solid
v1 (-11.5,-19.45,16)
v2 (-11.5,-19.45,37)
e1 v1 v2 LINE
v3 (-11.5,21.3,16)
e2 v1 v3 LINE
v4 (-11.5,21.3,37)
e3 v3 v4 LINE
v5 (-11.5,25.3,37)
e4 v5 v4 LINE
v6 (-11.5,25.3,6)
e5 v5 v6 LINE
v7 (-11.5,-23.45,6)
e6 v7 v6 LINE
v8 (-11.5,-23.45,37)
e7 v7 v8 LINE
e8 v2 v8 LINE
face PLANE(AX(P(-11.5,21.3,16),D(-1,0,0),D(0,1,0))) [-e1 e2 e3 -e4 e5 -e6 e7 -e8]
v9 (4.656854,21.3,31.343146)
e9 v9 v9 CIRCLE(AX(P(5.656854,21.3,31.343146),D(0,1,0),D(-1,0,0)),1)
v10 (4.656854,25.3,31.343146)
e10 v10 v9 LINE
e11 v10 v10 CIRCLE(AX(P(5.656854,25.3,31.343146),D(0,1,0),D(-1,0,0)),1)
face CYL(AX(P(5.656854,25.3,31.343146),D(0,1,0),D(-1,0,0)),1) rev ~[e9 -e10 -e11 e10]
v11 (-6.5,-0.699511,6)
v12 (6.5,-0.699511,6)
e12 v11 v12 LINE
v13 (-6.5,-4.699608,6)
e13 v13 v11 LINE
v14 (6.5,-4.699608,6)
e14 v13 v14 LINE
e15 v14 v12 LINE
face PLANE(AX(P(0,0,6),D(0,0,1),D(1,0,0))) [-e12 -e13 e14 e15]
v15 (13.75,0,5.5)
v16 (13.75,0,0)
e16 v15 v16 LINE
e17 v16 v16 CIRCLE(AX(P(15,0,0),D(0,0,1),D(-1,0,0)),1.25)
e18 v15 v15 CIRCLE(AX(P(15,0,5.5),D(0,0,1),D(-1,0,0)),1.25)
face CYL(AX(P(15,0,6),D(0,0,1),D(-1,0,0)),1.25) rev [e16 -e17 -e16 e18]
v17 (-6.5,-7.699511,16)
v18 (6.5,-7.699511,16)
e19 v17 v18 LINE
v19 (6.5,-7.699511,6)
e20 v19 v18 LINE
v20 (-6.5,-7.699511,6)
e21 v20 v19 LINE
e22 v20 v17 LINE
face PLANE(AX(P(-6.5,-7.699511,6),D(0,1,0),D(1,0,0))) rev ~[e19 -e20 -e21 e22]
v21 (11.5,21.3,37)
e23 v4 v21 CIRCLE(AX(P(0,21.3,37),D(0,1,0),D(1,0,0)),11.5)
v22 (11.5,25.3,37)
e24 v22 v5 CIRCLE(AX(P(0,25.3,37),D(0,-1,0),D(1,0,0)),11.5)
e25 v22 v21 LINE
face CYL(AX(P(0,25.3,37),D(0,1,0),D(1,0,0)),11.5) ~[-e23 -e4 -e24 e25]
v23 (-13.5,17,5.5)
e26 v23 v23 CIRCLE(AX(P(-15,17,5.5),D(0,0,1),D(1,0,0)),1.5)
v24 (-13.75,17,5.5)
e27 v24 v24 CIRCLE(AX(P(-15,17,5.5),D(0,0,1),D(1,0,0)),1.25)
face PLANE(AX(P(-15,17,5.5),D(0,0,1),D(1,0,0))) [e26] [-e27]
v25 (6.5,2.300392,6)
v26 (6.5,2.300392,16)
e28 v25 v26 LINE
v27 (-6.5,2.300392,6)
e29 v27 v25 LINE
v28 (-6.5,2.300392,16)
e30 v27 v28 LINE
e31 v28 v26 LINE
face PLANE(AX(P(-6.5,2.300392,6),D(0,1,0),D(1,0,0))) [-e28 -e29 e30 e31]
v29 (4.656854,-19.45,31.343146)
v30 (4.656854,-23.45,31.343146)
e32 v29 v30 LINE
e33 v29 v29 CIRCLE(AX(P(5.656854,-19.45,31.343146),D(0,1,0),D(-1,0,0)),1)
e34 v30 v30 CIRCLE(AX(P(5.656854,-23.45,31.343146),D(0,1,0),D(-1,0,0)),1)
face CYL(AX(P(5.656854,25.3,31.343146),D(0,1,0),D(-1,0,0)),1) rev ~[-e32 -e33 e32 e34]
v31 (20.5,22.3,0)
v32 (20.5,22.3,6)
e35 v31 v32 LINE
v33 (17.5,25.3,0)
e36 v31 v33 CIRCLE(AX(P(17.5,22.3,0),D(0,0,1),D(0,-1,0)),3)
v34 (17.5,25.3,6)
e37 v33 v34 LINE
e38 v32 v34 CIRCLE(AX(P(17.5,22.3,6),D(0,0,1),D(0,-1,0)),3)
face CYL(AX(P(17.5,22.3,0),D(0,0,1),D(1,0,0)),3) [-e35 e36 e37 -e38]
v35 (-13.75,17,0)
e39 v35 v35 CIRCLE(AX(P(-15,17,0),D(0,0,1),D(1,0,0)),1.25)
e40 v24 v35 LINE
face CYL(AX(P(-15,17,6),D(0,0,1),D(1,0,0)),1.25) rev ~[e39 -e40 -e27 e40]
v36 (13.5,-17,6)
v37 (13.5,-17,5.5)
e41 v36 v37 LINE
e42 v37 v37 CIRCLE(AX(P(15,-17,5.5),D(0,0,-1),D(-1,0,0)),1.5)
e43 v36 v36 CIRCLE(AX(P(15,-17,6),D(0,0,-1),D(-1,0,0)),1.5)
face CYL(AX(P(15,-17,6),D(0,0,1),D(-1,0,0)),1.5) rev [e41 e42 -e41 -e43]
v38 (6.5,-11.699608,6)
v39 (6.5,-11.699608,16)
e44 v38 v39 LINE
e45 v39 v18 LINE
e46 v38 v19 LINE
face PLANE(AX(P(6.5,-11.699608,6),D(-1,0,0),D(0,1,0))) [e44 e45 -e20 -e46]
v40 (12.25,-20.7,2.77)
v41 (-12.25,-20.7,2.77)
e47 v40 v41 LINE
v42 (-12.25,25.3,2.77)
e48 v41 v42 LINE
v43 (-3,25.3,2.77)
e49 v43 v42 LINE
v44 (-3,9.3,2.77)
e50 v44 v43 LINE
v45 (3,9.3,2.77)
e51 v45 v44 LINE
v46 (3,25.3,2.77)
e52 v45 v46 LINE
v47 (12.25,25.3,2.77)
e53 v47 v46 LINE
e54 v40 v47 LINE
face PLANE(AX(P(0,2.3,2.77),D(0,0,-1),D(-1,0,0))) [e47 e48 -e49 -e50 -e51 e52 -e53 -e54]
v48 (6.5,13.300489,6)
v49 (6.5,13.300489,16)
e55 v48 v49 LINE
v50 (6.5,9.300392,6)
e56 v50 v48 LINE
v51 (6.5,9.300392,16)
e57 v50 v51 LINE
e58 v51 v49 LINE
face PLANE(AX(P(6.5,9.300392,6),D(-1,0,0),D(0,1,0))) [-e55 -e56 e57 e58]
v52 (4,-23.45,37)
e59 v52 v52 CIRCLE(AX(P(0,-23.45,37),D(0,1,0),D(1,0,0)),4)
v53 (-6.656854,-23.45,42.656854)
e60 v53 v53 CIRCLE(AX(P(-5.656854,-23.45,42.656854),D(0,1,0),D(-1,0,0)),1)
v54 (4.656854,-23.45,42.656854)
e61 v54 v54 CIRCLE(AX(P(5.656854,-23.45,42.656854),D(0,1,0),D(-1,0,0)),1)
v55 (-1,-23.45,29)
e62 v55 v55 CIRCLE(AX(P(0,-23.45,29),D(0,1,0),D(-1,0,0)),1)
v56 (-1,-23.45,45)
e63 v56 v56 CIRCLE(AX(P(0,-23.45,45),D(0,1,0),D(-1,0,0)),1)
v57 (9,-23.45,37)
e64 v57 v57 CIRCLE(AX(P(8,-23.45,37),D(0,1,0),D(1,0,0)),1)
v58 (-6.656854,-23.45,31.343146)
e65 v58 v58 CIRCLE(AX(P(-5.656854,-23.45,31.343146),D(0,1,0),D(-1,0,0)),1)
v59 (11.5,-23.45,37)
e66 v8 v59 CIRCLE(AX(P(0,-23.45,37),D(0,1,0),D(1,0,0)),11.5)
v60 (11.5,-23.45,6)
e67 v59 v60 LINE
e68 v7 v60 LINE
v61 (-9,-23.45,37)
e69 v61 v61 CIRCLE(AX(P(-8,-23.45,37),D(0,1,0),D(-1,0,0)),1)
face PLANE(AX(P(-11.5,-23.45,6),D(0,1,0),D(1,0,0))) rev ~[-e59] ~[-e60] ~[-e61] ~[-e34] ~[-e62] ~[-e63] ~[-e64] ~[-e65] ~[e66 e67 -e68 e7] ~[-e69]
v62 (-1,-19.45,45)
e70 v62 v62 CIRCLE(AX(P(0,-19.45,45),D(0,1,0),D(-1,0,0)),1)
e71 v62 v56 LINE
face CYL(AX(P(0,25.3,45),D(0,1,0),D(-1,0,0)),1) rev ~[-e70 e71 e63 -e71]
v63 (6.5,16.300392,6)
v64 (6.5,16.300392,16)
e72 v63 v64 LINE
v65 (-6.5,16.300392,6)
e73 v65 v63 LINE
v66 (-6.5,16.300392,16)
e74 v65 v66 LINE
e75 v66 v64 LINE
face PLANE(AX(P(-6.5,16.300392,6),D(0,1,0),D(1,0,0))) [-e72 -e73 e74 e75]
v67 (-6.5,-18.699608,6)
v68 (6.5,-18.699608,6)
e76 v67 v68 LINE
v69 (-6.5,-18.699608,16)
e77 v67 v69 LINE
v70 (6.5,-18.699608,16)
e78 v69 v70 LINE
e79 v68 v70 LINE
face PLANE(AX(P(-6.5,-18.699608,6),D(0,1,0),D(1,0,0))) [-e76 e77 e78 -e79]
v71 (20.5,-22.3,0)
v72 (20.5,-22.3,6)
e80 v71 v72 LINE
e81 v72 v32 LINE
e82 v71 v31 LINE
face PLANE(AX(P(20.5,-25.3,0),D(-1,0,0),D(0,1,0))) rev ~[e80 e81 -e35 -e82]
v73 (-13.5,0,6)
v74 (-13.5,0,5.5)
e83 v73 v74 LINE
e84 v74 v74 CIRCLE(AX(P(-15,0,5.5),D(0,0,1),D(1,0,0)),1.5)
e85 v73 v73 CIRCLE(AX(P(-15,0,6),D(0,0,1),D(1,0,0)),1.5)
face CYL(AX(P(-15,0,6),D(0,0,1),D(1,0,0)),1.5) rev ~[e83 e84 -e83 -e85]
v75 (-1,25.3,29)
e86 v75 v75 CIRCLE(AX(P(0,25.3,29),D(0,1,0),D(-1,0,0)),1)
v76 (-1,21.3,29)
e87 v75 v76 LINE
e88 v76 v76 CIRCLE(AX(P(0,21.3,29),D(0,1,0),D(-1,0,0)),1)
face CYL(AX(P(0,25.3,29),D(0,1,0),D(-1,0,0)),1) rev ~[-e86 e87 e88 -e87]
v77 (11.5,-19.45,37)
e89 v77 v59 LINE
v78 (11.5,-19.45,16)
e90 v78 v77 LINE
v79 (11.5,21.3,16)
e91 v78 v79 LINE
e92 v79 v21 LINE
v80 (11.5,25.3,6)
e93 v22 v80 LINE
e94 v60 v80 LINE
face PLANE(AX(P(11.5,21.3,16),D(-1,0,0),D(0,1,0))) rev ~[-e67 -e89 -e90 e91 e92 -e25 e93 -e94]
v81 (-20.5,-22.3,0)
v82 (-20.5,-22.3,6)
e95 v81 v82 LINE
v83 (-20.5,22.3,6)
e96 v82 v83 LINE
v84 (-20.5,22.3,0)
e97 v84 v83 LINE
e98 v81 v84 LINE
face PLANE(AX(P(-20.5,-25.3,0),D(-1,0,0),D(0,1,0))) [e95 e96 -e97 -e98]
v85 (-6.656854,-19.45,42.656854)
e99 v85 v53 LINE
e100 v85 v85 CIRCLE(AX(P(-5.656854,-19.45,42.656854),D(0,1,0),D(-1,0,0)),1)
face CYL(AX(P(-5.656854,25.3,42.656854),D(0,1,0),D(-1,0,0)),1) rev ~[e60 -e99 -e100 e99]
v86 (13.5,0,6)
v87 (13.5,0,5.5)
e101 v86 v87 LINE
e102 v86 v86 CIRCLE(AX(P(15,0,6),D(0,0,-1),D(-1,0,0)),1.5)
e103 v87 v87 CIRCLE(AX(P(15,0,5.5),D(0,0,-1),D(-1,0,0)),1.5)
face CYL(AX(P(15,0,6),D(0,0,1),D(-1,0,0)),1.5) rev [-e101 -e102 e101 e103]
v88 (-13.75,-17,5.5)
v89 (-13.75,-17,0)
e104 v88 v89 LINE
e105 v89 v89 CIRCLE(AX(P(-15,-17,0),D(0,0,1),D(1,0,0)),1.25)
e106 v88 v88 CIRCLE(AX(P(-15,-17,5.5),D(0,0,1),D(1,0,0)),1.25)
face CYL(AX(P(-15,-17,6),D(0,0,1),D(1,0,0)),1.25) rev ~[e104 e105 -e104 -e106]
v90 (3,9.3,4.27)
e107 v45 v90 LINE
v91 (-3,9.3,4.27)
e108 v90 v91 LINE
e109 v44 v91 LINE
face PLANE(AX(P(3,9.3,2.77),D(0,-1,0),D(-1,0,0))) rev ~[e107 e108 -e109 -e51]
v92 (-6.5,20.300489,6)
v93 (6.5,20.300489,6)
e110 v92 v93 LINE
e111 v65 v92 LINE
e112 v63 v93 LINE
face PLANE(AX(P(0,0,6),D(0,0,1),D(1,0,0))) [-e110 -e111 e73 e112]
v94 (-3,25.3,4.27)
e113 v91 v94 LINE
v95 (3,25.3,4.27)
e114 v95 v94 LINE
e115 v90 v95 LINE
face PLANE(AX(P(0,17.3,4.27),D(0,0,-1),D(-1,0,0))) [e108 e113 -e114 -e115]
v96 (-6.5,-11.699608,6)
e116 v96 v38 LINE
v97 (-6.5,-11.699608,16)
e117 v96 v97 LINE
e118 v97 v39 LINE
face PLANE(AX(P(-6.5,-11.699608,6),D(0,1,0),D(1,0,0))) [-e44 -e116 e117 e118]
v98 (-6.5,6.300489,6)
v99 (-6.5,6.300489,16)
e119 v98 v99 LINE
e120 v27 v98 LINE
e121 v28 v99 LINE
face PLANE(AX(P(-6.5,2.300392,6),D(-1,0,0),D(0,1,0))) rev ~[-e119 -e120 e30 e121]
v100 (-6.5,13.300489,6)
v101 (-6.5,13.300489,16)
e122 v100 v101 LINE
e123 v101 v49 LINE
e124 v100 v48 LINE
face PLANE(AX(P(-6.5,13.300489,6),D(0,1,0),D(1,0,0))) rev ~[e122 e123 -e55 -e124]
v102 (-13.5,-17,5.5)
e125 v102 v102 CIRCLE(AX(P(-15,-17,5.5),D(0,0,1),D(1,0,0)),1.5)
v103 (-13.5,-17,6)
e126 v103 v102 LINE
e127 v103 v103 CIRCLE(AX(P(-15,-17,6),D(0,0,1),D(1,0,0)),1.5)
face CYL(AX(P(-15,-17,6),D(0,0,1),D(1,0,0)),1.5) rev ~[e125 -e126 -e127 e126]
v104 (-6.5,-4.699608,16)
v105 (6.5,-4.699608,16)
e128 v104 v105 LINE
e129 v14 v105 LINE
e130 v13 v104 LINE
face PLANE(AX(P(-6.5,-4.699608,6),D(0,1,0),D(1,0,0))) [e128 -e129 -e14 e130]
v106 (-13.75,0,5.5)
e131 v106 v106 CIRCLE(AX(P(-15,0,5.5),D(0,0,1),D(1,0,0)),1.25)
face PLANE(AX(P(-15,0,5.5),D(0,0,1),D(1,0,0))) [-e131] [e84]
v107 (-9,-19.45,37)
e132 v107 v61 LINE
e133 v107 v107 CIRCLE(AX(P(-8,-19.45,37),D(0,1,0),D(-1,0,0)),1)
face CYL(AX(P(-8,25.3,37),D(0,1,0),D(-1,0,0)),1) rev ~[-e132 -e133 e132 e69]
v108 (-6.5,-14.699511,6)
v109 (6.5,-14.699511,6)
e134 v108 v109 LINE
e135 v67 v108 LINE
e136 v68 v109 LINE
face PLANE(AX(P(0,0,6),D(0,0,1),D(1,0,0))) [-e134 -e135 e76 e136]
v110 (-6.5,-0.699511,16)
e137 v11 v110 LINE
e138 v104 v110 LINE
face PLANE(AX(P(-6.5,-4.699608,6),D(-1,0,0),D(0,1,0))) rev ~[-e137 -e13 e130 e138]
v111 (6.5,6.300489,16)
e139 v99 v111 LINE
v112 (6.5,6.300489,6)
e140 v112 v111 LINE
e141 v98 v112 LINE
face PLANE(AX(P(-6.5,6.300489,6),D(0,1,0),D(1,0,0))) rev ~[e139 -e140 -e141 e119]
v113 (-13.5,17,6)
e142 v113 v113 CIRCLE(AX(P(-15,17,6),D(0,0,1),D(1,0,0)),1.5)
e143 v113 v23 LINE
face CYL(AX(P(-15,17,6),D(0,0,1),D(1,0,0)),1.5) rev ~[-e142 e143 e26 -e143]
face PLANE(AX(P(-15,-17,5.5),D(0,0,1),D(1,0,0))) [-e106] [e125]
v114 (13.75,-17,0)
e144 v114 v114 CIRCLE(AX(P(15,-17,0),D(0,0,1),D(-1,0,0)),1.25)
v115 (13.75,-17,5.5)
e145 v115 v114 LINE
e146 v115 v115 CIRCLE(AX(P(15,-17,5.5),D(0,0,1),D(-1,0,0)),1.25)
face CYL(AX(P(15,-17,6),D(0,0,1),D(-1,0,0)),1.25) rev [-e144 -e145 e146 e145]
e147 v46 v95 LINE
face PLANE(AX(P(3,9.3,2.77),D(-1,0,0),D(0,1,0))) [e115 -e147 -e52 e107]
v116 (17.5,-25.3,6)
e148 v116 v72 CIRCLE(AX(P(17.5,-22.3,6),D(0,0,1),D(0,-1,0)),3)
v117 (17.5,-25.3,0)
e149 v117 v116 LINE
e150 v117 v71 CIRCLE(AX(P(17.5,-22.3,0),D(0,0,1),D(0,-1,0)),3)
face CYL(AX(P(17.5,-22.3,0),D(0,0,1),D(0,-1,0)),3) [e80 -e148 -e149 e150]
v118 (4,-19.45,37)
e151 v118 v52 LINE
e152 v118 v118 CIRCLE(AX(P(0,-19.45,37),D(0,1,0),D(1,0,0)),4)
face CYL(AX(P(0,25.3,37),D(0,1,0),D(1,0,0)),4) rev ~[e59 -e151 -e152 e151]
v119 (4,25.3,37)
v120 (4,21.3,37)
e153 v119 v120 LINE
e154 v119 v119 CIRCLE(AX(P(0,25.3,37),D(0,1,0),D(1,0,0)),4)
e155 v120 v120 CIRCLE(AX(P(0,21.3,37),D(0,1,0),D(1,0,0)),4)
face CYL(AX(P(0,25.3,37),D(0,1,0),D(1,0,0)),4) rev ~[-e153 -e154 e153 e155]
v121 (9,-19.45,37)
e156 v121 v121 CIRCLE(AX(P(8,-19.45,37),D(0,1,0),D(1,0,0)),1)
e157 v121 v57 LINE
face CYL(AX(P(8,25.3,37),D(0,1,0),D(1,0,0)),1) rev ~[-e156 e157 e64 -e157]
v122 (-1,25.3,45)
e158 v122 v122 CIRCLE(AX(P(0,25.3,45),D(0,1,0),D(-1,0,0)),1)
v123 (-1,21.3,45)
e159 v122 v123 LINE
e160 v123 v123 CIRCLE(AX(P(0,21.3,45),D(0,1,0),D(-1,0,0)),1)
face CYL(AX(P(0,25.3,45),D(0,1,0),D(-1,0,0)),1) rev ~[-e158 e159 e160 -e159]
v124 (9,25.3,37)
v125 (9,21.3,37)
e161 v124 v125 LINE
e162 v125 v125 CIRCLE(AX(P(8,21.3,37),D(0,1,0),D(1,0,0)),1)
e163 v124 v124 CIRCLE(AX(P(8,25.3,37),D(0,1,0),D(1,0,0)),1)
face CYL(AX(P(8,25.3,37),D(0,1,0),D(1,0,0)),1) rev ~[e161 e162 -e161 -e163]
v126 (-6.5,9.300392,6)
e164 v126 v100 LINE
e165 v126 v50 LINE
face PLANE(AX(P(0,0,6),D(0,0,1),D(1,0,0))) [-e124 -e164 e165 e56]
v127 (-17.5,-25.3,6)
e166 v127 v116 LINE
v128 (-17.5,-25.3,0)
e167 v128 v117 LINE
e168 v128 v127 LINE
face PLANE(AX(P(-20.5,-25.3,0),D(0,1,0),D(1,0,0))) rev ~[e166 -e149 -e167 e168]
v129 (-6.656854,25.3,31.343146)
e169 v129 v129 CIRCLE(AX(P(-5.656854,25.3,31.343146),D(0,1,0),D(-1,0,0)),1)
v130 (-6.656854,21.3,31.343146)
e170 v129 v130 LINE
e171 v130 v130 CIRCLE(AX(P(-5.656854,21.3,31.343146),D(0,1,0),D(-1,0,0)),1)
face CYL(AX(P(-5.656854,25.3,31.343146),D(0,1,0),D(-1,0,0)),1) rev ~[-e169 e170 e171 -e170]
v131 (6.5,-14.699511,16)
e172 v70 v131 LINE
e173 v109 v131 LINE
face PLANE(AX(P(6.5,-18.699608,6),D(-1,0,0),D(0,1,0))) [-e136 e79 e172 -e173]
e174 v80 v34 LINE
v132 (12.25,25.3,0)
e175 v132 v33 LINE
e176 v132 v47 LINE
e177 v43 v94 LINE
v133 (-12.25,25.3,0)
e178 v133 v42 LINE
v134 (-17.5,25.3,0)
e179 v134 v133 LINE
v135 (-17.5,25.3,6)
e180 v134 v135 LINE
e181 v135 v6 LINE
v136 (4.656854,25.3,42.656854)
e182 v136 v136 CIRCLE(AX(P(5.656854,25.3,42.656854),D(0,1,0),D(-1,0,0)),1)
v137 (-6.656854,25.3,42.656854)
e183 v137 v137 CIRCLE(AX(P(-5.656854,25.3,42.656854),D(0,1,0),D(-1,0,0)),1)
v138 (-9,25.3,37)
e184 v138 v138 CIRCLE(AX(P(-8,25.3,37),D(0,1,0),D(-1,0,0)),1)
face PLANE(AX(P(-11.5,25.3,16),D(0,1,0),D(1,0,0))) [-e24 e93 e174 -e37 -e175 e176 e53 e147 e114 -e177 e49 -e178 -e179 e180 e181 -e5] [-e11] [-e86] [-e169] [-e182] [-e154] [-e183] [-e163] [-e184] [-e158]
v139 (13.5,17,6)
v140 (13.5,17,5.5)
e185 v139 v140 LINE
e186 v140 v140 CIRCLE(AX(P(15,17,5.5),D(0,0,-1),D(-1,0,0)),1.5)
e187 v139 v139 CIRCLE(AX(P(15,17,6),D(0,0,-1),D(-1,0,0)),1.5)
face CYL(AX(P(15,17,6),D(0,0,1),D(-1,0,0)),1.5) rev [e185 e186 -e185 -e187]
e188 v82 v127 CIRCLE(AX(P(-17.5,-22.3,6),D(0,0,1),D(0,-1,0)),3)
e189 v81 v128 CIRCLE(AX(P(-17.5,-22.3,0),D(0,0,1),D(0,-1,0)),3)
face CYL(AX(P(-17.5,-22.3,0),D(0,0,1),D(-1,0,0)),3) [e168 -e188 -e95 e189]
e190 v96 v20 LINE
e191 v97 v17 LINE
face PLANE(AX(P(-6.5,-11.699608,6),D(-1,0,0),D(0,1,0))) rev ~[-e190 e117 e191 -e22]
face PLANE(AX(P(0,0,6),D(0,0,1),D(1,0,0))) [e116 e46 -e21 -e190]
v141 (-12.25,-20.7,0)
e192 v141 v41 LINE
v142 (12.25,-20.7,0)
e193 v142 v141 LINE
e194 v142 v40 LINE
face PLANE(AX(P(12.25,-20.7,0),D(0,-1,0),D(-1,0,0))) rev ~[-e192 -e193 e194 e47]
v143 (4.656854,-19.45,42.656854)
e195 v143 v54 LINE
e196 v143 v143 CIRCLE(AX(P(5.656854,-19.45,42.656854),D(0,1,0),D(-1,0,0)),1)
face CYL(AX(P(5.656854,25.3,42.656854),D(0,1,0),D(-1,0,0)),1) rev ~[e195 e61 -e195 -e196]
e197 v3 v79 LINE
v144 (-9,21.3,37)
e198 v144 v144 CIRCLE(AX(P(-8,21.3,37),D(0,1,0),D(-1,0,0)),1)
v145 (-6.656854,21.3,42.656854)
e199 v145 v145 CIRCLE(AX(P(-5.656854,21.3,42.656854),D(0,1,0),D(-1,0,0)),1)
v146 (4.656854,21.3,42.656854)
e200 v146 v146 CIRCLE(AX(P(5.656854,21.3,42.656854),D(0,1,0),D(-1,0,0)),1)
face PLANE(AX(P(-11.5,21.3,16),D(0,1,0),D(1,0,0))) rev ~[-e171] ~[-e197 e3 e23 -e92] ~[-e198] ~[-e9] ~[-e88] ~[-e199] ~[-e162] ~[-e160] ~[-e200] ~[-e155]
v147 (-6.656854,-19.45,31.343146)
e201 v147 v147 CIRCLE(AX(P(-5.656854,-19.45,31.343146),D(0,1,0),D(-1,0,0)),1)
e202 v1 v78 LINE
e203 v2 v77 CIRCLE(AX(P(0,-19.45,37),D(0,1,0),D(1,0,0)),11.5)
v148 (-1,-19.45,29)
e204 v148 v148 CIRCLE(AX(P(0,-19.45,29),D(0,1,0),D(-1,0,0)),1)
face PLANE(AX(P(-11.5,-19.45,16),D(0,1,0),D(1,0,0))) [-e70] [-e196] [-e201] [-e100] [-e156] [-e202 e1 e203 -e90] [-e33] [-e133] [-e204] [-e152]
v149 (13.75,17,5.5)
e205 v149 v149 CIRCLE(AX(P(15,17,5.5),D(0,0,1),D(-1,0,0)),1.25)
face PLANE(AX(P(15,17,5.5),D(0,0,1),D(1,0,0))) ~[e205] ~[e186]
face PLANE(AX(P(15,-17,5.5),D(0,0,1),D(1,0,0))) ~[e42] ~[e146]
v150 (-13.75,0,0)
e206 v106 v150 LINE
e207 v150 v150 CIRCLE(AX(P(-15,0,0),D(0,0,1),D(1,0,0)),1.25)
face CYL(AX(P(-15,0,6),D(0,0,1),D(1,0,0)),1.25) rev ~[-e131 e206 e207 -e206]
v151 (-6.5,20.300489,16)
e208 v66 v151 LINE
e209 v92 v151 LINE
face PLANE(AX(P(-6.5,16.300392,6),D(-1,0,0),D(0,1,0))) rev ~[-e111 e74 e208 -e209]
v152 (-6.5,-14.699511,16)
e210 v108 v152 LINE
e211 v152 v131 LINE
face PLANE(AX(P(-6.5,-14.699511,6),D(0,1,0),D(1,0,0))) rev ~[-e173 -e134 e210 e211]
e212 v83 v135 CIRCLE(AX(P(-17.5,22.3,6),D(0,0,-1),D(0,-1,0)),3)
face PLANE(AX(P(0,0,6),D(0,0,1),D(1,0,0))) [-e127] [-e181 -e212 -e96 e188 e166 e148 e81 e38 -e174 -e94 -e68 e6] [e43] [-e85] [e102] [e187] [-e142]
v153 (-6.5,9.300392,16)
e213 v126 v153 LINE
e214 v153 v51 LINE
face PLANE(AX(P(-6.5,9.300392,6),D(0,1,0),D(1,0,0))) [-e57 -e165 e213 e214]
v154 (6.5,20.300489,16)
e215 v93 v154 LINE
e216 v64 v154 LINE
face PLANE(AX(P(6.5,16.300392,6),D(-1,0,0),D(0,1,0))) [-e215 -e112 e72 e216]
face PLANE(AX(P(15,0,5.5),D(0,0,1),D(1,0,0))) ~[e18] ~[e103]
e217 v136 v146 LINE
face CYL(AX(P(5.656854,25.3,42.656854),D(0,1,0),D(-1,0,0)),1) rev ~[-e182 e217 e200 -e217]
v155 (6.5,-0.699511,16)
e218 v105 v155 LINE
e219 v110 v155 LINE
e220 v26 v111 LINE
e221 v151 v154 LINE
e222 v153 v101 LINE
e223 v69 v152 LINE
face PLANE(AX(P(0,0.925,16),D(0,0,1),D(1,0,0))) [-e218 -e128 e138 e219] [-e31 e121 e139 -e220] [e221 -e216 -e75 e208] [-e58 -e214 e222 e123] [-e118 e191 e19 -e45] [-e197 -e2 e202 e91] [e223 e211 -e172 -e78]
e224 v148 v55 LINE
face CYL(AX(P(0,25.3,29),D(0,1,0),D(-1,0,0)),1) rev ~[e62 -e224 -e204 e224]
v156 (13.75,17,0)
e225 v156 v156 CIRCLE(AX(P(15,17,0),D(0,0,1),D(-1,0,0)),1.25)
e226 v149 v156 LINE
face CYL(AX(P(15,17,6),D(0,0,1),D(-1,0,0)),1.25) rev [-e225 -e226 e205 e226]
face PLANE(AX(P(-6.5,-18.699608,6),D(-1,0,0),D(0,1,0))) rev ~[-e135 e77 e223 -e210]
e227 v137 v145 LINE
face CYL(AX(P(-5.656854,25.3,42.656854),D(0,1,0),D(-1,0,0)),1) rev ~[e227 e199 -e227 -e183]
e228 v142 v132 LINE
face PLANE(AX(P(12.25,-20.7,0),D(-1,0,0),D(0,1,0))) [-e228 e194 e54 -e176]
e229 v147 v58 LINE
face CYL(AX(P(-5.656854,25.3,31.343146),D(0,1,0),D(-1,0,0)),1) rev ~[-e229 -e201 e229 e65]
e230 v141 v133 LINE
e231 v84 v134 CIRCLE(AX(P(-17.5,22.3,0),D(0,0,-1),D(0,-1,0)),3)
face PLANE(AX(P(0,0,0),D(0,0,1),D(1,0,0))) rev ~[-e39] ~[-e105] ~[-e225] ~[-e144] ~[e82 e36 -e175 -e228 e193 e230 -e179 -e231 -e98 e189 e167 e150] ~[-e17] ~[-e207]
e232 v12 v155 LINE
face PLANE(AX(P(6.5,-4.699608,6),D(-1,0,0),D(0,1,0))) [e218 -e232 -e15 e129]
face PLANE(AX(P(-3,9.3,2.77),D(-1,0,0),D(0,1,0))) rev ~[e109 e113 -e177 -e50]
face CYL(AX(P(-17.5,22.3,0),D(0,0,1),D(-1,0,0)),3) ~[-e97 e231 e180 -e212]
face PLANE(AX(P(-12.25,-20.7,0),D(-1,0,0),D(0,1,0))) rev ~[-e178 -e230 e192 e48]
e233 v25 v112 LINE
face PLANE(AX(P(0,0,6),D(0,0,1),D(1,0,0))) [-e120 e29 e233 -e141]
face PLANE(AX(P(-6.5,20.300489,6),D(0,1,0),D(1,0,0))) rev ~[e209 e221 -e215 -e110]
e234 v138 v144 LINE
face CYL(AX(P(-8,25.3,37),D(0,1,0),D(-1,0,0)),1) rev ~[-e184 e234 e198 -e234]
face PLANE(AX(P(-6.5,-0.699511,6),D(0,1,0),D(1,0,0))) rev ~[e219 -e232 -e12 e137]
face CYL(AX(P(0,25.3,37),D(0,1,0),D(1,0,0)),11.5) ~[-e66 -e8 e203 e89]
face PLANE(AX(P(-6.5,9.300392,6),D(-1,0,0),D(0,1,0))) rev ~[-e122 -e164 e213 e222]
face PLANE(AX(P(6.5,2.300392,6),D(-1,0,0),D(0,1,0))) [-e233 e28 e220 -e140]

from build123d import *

# Parameters (mm, degrees)
SKETCH1_W           = 41
SKETCH1_H           = 50.6
BOSS_EXTRUDE1_DEPTH = 6
FILLET1_R           = 3
SKETCH3_R           = 1.25
CUT_EXTRUDE1_DEPTH  = 34.111025354
SKETCH4_R           = 1.5
CUT_EXTRUDE2_DEPTH  = 0.5
SKETCH5_W           = 24.5
SKETCH5_H           = 46
CUT_EXTRUDE3_DEPTH  = 2.77
SKETCH6_W           = 6
SKETCH6_H           = 16
CUT_EXTRUDE4_DEPTH  = 1.5
SKETCH7_W           = 23
SKETCH7_H           = 48.75
SKETCH7_W_2         = 13
SKETCH7_H_2         = 4.000096304
BOSS_EXTRUDE2_DEPTH = 10
SKETCH8_W           = 23
SKETCH8_H           = 4
BOSS_EXTRUDE3_DEPTH = 44
SKETCH9_R           = 1
CUT_EXTRUDE5_DEPTH  = 82.120959067


with BuildPart() as part:
    # Sketch1 → Boss-Extrude1 (new body)
    with BuildSketch(Plane.XY):
        Rectangle(SKETCH1_W, SKETCH1_H)
    extrude(amount=BOSS_EXTRUDE1_DEPTH)

    # Fillet1
    fillet1_edges = [part.edges().sort_by_distance(p)[0] for p in [
        (20.5, -25.3, 3),
        (-20.5, -25.3, 3),
        (-20.5, 25.3, 3),
        (20.5, 25.3, 3),
    ]]
    fillet(fillet1_edges, radius=FILLET1_R)

    # Sketch3 → Cut-Extrude1 (cut, through all)
    with BuildSketch(Plane.XY.offset(6)):
        with Locations((-15, 0)):
            Circle(SKETCH3_R)
        with Locations((-15, 17)):
            Circle(SKETCH3_R)
        with Locations((-15, -17)):
            Circle(SKETCH3_R)
    cut_extrude1 = extrude(amount=-CUT_EXTRUDE1_DEPTH, mode=Mode.SUBTRACT)

    # Mirror1: Cut-Extrude1 across plane
    add(cut_extrude1.mirror(Plane(origin=(0, 0, 0), x_dir=(0, 0, 1), z_dir=(1, 0, 0))), mode=Mode.SUBTRACT)

    # Sketch4 → Cut-Extrude2 (cut)
    with BuildSketch(Plane.XY.offset(6)):
        with Locations((-15, 17)):
            Circle(SKETCH4_R)
        with Locations((-15, 0)):
            Circle(SKETCH4_R)
        with Locations((-15, -17)):
            Circle(SKETCH4_R)
    cut_extrude2 = extrude(amount=-CUT_EXTRUDE2_DEPTH, mode=Mode.SUBTRACT)

    # Mirror2: Cut-Extrude2 across plane
    add(cut_extrude2.mirror(Plane(origin=(0, 0, 0), x_dir=(0, 0, 1), z_dir=(1, 0, 0))), mode=Mode.SUBTRACT)

    # Sketch5 → Cut-Extrude3 (cut)
    with BuildSketch(Plane(origin=(0, 0, 0), x_dir=(-1, 0, 0), z_dir=(0, 0, -1))):
        with Locations((0, 2.3)):
            Rectangle(SKETCH5_W, SKETCH5_H)
    extrude(amount=-CUT_EXTRUDE3_DEPTH, mode=Mode.SUBTRACT)

    # Sketch6 → Cut-Extrude4 (cut)
    with BuildSketch(Plane(origin=(0, 0, 2.77), x_dir=(-1, 0, 0), z_dir=(0, 0, -1))):
        with Locations((0, 17.3)):
            Rectangle(SKETCH6_W, SKETCH6_H)
    extrude(amount=-CUT_EXTRUDE4_DEPTH, mode=Mode.SUBTRACT)

    # Sketch7 → Boss-Extrude2 (add)
    with BuildSketch(Plane.XY.offset(6)):
        with Locations((0, 0.925)):
            Rectangle(SKETCH7_W, SKETCH7_H)
        with Locations((0, 11.300440592)):
            Rectangle(SKETCH7_W_2, SKETCH7_H_2, mode=Mode.SUBTRACT)
        with Locations((0, 18.300440592)):
            Rectangle(SKETCH7_W_2, SKETCH7_H_2, mode=Mode.SUBTRACT)
        with Locations((0, 4.300440592)):
            Rectangle(SKETCH7_W_2, SKETCH7_H_2, mode=Mode.SUBTRACT)
        with Locations((0, -2.699559408)):
            Rectangle(SKETCH7_W_2, SKETCH7_H_2, mode=Mode.SUBTRACT)
        with Locations((0, -9.699559408)):
            Rectangle(SKETCH7_W_2, SKETCH7_H_2, mode=Mode.SUBTRACT)
        with Locations((0, -16.699559408)):
            Rectangle(SKETCH7_W_2, SKETCH7_H_2, mode=Mode.SUBTRACT)
    extrude(amount=BOSS_EXTRUDE2_DEPTH)

    # Sketch8 → Boss-Extrude3 (add)
    with BuildSketch(Plane.XY.offset(16)):
        with Locations((0, 23.3)):
            Rectangle(SKETCH8_W, SKETCH8_H)
        with Locations((0, -21.45)):
            Rectangle(SKETCH8_W, SKETCH8_H)
    extrude(amount=BOSS_EXTRUDE3_DEPTH)

    # Sketch9 → Cut-Extrude5 (cut, through all)
    with BuildSketch(Plane(origin=(0, 25.3, 0), x_dir=(1, 0, 0), z_dir=(0, 1, 0))):
        with BuildLine():
            Line((11.5, -60), (11.5, -37))
            ThreePointArc((11.5, -37), (0, -48.5), (-11.5, -37))
            Line((-11.5, -37), (-11.5, -60))
            Line((-11.5, -60), (11.5, -60))
        make_face()
        with BuildLine():
            ThreePointArc((-4, -37), (0, -41), (4, -37))
            Line((4, -37), (-4, -37))
        make_face()
        with BuildLine():
            Line((-4, -37), (4, -37))
            ThreePointArc((4, -37), (0, -33), (-4, -37))
        make_face()
        with Locations(Location((0, -29, 0), (0, 0, 180))):
            Circle(SKETCH9_R)
        with Locations(Location((-5.656854249, -31.343145751, 0), (0, 0, 180))):
            Circle(SKETCH9_R)
        with BuildLine():
            ThreePointArc((-7, -37), (-8, -36), (-9, -37))
            Line((-9, -37), (-7, -37))
        make_face()
        with BuildLine():
            Line((-7, -37), (-9, -37))
            ThreePointArc((-9, -37), (-8, -38), (-7, -37))
        make_face()
        with Locations(Location((-5.656854249, -42.656854249, 0), (0, 0, 180))):
            Circle(SKETCH9_R)
        with Locations(Location((0, -45, 0), (0, 0, 180))):
            Circle(SKETCH9_R)
        with Locations(Location((5.656854249, -42.656854249, 0), (0, 0, 180))):
            Circle(SKETCH9_R)
        with BuildLine():
            ThreePointArc((7, -37), (8, -38), (9, -37))
            Line((9, -37), (7, -37))
        make_face()
        with BuildLine():
            Line((7, -37), (9, -37))
            ThreePointArc((9, -37), (8, -36), (7, -37))
        make_face()
        with Locations(Location((5.656854249, -31.343145751, 0), (0, 0, 180))):
            Circle(SKETCH9_R)
    extrude(amount=-CUT_EXTRUDE5_DEPTH, mode=Mode.SUBTRACT)


solid = part.part
